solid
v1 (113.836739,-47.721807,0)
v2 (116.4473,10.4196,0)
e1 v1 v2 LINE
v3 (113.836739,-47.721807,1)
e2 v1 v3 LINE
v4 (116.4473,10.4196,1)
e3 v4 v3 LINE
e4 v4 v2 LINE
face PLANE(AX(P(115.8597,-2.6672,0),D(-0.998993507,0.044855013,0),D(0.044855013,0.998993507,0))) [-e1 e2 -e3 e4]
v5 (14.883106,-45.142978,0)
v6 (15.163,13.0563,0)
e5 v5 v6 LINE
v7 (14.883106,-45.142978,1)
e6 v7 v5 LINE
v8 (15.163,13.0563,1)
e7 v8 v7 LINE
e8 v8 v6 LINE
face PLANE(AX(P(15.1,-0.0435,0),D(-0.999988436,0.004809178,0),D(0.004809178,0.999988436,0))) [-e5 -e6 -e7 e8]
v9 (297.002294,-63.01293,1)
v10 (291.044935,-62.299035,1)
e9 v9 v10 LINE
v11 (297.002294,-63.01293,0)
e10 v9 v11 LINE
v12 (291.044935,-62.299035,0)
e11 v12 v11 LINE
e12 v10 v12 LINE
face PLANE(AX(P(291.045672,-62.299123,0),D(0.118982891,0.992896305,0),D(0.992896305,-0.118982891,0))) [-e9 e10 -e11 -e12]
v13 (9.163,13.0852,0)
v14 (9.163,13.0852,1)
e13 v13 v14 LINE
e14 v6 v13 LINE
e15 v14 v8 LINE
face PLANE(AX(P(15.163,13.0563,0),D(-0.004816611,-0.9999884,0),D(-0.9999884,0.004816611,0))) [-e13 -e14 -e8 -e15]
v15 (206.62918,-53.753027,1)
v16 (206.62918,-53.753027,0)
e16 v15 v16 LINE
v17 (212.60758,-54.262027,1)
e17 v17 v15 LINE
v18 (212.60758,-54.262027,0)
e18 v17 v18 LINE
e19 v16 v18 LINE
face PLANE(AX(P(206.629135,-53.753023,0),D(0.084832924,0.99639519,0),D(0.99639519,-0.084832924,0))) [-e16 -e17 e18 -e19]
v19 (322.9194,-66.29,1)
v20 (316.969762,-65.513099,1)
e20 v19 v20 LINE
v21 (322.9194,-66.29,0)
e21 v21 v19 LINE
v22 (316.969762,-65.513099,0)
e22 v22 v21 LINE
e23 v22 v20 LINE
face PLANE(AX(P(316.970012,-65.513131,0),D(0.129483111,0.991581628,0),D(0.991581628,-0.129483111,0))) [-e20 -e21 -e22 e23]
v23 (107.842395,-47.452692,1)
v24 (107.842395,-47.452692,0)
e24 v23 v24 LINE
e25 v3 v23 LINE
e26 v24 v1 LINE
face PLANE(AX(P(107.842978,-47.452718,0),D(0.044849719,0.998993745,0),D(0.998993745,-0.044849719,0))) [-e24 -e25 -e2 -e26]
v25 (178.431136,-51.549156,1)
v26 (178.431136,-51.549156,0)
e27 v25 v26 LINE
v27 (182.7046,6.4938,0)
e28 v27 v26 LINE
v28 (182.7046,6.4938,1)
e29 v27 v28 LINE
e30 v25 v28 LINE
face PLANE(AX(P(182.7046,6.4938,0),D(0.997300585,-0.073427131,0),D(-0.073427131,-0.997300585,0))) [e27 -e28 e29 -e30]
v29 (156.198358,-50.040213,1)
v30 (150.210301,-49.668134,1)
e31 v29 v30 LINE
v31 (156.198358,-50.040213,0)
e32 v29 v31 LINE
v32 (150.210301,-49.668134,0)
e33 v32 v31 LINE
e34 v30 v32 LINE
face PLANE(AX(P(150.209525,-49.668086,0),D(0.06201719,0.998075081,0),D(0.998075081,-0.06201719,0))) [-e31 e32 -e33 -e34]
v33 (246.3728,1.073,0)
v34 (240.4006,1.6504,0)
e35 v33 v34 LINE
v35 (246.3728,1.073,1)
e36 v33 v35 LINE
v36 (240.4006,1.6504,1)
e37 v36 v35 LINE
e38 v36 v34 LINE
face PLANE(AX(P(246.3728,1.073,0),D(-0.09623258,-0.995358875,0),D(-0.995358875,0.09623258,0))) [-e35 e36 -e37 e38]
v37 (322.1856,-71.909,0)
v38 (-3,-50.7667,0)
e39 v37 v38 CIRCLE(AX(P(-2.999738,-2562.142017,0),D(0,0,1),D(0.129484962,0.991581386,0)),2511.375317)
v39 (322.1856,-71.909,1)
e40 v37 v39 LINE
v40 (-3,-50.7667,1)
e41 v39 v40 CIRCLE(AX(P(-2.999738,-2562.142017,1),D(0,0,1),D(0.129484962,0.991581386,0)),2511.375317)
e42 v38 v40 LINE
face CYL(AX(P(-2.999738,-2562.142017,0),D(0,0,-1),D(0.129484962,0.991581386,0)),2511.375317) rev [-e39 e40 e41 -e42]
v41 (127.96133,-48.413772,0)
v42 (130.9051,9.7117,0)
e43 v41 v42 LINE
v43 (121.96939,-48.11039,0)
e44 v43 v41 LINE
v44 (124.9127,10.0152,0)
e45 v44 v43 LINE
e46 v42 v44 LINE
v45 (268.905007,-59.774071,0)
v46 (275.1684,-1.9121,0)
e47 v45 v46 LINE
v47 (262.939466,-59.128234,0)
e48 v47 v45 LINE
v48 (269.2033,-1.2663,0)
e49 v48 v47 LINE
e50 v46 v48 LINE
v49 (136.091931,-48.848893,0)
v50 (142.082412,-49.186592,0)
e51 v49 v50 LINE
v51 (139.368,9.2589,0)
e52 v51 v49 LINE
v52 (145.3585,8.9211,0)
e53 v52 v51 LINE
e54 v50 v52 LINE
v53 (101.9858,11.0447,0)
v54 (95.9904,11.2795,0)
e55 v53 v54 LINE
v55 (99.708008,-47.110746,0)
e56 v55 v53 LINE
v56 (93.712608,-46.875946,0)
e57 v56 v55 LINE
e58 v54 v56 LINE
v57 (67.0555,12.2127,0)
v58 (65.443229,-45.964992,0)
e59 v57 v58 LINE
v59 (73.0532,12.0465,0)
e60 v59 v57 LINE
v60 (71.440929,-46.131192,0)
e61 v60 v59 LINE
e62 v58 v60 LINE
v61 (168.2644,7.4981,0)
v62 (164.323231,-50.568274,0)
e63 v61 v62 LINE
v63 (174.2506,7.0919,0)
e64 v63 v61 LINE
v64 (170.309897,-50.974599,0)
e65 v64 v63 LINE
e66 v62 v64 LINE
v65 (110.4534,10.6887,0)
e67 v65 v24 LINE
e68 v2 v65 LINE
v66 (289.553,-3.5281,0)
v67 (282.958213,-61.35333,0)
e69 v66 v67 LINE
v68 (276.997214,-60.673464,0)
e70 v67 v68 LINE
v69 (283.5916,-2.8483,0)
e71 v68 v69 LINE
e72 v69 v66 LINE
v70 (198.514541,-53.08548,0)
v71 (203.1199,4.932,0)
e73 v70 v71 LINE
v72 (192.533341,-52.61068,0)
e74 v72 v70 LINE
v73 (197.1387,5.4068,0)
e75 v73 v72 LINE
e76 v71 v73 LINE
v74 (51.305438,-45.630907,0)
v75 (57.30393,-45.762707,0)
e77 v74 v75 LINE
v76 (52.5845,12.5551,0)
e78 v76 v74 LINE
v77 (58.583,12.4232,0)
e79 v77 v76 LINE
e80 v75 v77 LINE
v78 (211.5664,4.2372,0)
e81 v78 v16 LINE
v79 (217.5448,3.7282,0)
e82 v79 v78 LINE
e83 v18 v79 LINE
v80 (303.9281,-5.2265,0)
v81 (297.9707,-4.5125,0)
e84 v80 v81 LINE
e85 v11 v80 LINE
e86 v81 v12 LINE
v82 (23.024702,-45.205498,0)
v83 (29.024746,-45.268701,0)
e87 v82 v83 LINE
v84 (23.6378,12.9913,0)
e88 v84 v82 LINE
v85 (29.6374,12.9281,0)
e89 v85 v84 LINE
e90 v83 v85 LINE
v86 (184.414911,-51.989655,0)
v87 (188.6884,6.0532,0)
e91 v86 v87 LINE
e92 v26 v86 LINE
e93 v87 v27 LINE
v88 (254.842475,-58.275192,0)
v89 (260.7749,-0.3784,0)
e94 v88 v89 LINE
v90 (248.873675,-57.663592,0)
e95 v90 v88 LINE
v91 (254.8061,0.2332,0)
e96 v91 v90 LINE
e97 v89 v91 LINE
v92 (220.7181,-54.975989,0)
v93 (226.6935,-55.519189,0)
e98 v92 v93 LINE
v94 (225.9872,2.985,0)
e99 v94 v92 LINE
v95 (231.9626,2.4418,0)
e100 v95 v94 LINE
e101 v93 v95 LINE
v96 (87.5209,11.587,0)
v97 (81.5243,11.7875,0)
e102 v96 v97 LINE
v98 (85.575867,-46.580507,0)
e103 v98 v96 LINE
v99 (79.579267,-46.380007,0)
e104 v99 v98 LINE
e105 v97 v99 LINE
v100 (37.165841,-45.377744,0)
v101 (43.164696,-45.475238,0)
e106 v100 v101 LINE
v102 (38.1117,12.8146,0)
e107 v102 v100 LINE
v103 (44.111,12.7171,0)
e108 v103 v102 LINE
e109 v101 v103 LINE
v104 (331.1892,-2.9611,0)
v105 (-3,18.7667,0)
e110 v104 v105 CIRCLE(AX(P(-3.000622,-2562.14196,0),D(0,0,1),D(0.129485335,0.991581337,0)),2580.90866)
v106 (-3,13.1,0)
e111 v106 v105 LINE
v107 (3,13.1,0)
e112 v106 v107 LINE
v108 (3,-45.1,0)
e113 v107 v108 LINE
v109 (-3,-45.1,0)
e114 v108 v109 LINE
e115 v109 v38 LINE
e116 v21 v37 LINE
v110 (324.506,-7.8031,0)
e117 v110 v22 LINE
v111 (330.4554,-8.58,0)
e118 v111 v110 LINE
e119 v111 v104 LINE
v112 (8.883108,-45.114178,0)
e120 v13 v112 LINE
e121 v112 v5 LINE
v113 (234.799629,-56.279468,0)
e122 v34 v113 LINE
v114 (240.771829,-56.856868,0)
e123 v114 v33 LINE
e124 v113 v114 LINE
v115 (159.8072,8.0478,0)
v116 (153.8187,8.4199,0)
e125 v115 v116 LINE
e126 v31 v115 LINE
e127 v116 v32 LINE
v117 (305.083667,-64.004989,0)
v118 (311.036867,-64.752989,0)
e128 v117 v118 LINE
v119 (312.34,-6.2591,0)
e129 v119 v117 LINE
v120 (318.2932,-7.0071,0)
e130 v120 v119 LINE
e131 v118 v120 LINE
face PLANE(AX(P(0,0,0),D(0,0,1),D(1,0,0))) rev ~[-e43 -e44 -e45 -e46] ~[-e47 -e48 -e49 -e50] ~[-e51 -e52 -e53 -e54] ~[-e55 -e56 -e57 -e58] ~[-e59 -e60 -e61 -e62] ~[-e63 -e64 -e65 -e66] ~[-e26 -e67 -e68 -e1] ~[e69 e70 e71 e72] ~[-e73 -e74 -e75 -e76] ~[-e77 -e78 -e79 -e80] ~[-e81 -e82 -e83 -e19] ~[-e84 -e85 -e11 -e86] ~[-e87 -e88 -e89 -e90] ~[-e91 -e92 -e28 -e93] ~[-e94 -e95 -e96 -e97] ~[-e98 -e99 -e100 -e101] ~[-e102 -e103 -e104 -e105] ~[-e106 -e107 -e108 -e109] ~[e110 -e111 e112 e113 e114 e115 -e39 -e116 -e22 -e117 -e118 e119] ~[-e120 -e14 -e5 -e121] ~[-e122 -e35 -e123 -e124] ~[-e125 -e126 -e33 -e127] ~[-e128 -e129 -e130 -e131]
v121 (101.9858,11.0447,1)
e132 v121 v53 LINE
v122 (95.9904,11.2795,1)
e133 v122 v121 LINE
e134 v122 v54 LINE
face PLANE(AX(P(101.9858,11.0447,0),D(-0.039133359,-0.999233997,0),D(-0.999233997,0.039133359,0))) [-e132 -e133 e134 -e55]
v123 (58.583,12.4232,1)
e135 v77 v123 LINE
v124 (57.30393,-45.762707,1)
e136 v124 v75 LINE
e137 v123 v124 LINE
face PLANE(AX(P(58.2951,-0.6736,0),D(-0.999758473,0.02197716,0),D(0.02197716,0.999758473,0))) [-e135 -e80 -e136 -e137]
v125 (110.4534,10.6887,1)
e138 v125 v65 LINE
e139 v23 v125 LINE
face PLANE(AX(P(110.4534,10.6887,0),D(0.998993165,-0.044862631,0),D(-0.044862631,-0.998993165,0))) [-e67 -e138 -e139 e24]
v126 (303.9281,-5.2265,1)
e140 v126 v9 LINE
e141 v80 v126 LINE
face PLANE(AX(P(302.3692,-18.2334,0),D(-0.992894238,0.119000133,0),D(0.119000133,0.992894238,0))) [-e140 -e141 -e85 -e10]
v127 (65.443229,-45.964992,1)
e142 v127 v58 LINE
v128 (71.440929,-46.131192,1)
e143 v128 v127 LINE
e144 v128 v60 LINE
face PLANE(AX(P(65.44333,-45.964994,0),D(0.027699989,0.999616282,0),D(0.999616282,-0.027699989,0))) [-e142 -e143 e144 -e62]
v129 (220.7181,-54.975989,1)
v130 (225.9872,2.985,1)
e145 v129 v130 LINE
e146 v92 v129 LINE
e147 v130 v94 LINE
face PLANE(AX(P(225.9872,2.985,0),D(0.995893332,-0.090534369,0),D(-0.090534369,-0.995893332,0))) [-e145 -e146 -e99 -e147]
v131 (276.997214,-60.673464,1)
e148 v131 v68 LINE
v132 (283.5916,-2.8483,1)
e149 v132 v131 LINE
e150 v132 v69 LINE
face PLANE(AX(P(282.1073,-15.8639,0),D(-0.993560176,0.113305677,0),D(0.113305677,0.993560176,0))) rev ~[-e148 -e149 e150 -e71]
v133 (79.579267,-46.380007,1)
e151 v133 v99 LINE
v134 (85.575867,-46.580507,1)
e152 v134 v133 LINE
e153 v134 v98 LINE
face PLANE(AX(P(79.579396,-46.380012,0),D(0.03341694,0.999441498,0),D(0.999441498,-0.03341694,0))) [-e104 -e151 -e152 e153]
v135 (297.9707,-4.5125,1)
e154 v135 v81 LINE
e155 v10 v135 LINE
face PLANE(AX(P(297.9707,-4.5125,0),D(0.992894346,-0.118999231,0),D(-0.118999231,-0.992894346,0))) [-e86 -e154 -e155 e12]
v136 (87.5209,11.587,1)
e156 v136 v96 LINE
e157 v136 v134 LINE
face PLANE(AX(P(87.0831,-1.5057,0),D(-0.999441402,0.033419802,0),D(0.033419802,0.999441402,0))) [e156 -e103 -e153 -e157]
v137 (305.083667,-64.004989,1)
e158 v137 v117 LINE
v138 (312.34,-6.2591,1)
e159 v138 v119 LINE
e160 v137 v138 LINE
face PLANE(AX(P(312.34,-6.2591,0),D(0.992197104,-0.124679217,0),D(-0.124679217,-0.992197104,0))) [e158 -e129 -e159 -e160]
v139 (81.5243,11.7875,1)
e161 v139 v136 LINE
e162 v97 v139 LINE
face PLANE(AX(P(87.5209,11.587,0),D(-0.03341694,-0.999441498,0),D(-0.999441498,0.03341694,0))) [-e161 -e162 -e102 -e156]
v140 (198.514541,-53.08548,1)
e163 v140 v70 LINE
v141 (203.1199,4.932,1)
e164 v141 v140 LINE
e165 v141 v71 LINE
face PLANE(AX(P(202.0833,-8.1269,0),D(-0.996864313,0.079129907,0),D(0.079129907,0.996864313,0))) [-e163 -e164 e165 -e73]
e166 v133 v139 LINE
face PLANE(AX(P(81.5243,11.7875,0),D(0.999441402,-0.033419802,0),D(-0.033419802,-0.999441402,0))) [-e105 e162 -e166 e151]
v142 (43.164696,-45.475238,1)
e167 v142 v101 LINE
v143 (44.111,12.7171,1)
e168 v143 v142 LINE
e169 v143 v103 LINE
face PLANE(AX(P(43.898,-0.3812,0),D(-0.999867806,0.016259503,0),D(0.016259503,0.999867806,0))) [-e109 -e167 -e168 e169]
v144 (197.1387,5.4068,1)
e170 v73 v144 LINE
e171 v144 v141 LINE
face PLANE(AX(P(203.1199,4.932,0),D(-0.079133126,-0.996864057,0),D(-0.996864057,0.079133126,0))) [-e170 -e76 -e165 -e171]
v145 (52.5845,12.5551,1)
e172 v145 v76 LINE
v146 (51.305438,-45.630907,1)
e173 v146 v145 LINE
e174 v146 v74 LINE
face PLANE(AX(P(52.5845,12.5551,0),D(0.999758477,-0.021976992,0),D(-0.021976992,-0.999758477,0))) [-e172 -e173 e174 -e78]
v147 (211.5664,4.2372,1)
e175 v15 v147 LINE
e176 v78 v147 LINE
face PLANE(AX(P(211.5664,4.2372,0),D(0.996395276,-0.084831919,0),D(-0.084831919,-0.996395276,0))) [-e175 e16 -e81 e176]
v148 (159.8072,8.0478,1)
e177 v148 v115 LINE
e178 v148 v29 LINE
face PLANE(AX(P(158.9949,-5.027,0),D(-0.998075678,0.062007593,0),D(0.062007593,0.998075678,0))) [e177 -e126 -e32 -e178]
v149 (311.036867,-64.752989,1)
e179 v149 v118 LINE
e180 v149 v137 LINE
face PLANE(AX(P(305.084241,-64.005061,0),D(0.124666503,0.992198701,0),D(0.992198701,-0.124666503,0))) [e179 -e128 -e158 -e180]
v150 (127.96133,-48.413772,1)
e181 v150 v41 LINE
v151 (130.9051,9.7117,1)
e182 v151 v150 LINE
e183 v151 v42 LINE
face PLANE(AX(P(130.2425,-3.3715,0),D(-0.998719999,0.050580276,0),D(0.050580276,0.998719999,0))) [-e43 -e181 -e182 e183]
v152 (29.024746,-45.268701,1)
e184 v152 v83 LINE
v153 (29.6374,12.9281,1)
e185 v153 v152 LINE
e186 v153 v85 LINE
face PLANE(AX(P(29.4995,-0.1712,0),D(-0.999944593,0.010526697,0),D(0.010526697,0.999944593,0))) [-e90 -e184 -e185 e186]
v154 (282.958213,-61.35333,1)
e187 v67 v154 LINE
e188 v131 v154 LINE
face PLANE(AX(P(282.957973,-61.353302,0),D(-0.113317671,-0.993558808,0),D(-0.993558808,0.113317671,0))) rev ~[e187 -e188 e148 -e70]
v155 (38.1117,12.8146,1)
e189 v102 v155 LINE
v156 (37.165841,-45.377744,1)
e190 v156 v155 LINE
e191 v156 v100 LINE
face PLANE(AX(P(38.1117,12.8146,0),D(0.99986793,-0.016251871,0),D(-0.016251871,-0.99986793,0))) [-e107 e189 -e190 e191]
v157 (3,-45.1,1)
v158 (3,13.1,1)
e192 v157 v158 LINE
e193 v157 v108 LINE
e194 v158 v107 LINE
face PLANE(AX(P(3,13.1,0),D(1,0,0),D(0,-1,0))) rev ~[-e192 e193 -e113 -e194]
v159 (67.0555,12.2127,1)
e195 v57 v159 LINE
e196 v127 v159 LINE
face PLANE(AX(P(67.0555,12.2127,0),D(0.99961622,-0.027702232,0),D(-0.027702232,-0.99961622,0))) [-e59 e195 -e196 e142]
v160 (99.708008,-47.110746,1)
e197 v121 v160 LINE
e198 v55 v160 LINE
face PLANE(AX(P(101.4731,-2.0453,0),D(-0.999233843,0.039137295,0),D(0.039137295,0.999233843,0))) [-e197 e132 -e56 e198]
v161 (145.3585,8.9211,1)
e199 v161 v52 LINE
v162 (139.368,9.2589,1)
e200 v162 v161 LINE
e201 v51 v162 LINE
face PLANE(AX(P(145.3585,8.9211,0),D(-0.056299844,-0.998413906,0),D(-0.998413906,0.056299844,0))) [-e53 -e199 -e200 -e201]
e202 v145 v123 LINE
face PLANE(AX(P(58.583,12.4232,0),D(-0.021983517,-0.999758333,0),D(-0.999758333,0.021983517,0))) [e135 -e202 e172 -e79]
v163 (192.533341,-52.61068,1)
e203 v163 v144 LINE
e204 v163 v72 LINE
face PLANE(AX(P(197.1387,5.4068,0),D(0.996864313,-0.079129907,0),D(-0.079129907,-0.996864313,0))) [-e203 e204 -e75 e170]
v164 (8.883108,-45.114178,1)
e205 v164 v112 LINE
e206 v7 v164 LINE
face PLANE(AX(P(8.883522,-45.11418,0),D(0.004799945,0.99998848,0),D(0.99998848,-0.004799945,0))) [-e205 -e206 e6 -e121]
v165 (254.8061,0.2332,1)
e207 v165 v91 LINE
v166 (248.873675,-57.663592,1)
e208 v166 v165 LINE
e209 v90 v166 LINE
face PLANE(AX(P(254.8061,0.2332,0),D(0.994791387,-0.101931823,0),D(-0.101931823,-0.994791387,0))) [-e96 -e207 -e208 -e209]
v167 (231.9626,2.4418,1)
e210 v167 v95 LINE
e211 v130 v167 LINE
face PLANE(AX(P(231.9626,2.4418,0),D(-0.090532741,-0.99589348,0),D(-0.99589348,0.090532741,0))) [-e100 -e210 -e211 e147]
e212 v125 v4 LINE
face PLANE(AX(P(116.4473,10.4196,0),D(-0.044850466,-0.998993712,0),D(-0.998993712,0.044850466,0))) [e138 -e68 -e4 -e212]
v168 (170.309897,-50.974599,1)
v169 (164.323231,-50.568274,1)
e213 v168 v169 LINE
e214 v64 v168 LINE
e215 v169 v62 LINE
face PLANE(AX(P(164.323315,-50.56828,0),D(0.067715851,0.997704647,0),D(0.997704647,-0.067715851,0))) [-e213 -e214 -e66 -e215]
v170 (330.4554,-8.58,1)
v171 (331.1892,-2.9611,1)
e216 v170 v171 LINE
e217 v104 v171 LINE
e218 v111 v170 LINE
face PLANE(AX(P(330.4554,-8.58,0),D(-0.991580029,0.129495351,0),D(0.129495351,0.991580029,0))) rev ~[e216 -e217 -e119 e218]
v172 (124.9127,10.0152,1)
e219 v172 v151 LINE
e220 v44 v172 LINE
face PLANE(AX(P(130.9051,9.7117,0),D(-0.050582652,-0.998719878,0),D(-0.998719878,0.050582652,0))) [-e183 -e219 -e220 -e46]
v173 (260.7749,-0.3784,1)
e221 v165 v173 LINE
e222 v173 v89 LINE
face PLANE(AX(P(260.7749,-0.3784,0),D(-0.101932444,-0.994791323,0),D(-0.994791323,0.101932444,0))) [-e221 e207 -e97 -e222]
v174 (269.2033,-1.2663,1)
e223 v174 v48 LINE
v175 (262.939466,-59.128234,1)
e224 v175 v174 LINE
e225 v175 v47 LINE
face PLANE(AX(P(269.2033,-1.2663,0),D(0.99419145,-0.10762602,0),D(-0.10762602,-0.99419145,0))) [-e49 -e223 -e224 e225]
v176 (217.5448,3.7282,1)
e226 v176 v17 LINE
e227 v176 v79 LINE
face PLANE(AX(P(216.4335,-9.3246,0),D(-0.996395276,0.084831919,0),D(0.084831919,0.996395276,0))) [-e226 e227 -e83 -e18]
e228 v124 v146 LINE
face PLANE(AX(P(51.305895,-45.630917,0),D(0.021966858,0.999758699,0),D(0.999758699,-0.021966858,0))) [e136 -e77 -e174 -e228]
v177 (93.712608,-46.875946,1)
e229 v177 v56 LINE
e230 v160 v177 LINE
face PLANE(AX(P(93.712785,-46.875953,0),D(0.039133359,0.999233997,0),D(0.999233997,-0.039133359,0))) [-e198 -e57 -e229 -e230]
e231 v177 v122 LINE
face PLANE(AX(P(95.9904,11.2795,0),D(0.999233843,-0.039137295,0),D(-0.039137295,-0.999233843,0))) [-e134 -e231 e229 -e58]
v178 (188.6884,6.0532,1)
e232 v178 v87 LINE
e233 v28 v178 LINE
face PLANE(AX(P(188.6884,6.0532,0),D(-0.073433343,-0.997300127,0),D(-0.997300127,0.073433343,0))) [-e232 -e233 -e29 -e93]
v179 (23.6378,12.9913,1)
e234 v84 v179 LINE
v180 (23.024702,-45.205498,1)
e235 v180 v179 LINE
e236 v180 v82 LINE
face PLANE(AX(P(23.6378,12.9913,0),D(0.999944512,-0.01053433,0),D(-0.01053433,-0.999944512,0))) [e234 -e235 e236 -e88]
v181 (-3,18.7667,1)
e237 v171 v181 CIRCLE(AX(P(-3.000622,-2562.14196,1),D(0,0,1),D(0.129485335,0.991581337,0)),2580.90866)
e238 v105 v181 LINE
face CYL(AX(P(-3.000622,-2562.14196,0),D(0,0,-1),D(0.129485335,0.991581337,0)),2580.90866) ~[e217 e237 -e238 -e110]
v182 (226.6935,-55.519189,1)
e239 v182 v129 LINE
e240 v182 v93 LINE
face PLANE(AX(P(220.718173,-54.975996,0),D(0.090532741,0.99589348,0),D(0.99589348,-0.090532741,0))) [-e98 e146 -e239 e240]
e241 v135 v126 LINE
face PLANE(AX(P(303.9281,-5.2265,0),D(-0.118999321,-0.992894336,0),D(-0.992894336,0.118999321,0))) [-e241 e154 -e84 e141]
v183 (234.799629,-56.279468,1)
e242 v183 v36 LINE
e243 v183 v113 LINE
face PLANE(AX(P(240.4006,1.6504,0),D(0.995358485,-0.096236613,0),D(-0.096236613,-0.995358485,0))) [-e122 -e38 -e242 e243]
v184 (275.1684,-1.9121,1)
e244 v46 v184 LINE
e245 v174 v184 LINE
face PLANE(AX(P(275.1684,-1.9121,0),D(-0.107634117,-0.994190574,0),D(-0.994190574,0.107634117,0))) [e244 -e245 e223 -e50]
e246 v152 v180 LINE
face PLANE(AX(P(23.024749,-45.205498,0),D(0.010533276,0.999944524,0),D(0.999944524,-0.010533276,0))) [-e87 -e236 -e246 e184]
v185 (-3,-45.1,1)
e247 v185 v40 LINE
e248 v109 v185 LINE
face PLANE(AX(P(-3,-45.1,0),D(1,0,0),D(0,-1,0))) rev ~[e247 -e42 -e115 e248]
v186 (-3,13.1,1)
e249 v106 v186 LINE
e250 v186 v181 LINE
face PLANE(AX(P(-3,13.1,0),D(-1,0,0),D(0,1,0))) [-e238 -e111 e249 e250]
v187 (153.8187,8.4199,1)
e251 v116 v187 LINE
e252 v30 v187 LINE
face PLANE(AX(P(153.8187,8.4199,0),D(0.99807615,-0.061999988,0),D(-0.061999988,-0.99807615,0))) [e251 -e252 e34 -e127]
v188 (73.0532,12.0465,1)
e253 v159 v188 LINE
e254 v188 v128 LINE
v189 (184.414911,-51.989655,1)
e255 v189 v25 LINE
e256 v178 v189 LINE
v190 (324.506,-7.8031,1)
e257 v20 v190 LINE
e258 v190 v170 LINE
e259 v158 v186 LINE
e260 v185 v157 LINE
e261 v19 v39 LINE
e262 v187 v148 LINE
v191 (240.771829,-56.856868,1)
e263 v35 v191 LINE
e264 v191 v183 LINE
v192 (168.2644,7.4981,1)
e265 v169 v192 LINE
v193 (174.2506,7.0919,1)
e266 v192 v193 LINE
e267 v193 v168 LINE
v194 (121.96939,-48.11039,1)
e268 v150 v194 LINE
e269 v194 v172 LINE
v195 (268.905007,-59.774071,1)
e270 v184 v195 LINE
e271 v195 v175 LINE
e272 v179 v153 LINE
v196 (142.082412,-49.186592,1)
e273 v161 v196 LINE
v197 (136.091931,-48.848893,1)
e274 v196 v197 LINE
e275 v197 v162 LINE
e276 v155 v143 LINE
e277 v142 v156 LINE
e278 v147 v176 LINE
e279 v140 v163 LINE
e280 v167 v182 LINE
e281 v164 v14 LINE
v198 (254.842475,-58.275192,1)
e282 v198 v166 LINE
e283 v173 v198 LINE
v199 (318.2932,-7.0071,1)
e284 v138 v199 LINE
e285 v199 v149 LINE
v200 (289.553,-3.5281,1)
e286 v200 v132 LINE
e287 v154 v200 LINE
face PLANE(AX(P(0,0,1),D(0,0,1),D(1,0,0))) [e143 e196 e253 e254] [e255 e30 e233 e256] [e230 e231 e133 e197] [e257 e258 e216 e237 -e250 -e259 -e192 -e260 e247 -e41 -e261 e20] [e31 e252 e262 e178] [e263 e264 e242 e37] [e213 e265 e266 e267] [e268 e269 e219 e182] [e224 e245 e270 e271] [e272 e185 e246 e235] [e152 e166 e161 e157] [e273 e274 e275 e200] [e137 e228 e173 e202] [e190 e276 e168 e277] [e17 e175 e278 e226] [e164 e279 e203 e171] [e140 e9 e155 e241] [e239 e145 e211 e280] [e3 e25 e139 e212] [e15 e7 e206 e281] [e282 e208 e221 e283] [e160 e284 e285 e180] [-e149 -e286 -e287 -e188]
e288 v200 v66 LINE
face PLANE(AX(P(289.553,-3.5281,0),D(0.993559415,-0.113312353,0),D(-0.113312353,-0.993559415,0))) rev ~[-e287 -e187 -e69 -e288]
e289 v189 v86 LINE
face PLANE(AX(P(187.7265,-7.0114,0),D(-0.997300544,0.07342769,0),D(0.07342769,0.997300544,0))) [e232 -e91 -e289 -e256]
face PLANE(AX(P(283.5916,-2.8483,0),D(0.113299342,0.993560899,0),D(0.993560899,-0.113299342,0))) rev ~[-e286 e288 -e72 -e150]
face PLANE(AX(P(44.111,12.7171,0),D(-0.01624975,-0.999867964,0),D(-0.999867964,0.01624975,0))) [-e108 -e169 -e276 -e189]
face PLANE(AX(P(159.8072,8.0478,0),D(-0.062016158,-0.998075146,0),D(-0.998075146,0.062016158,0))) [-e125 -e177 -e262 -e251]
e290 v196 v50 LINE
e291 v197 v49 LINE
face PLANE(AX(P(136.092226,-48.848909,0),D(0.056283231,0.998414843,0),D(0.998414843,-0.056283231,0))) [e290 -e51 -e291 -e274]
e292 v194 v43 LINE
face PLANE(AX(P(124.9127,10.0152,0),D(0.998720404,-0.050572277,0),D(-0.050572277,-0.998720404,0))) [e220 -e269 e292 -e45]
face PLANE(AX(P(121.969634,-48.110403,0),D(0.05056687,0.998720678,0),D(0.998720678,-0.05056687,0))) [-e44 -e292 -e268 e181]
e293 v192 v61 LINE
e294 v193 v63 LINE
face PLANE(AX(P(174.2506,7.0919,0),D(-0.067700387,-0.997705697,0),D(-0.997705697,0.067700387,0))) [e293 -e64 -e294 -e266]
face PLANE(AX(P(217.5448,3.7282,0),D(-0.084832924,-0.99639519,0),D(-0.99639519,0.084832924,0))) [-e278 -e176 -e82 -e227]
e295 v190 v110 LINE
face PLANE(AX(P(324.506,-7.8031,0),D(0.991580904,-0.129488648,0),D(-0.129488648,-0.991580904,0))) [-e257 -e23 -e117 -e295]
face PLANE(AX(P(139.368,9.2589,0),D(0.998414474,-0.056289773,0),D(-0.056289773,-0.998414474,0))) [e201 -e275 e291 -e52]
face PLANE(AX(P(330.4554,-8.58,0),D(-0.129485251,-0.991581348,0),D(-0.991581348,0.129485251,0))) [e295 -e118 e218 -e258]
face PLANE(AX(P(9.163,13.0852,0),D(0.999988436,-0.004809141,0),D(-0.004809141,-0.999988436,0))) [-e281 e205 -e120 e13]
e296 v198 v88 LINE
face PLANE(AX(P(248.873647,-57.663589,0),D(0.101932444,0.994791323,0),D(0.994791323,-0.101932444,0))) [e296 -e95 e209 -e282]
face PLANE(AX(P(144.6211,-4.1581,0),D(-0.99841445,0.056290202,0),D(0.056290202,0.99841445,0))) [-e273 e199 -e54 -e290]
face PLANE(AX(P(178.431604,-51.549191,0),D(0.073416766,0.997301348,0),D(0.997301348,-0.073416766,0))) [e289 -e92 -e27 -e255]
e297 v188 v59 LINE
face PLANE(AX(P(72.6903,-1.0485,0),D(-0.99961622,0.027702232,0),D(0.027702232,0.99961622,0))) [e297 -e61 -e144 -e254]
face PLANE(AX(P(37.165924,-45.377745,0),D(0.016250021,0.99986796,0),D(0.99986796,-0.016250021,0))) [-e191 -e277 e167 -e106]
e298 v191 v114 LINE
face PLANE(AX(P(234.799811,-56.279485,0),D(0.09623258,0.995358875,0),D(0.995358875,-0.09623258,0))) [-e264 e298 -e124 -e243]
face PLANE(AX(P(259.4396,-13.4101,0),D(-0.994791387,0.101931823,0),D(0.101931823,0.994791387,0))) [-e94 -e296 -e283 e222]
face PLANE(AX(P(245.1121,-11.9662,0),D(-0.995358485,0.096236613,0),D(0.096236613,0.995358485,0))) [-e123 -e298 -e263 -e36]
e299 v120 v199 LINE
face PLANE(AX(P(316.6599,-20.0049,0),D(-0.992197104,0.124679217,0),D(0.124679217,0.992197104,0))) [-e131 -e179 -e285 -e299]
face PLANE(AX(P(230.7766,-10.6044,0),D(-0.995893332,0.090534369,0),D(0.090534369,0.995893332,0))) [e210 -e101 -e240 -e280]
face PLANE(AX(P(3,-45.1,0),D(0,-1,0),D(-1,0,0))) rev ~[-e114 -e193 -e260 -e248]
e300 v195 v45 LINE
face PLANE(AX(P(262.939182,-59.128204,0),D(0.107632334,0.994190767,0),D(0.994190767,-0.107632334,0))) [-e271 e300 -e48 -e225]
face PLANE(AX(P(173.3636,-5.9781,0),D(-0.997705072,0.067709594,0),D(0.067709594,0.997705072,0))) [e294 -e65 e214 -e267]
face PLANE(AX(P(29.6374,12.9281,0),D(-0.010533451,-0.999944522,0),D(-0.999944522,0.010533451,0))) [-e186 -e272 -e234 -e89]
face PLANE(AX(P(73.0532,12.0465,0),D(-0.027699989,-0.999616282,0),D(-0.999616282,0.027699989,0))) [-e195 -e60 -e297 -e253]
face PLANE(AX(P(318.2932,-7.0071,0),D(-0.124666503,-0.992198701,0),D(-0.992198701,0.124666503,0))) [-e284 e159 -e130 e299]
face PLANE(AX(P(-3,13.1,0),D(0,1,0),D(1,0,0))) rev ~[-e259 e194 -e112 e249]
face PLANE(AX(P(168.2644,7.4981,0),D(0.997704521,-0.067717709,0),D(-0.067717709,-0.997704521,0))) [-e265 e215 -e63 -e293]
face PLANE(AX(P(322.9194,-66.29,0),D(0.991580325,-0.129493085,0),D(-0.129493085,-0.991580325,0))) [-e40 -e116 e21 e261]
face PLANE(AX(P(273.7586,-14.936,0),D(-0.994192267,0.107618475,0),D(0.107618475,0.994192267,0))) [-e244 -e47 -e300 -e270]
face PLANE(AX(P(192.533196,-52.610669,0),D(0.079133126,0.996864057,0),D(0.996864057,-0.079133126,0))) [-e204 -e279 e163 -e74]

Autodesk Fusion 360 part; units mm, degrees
sketch "Skizze4" plane through (0, 0, 0) normal (0, 0, 1) x (1, 0, 0)
  line L0 (0, 0) -> (0, -2516) construction
  circle A0 centre (0, -2516) radius 2516 construction
  line L1 (9.163, 13.0852) -> (9.1, -0.0147)
  line L2 (9.1, -0.0147) -> (15.1, -0.0435)
  line L3 (15.1, -0.0435) -> (15.163, 13.0563)
  line L4 (15.163, 13.0563) -> (9.163, 13.0852)
  line L5 (-3, 13.1) -> (3, 13.1)
  line L6 (3, 13.1) -> (3, 0)
  line L7 (3, 0) -> (-3, 0)
  line L8 (-3, 0) -> (-3, 13.1)
  line L9 (12.163, 13.0708) -> (12.1, -0.0291) construction
  line L10 (23.6378, 12.9913) -> (23.4998, -0.108)
  line L11 (29.4995, -0.1712) -> (29.6374, 12.9281)
  line L12 (26.6376, 12.9597) -> (26.4996, -0.1396) construction
  line L13 (29.6374, 12.9281) -> (23.6378, 12.9913)
  line L14 (23.4998, -0.108) -> (29.4995, -0.1712)
  line L15 (38.1117, 12.8146) -> (37.8988, -0.2837)
  line L16 (58.583, 12.4232) -> (52.5845, 12.5551)
  line L17 (52.2966, -0.5418) -> (58.2951, -0.6736)
  line L18 (52.5845, 12.5551) -> (52.2966, -0.5418)
  line L19 (58.2951, -0.6736) -> (58.583, 12.4232)
  line L20 (55.5837, 12.4891) -> (55.2958, -0.6077) construction
  line L21 (41.1113, 12.7658) -> (40.8984, -0.3324) construction
  line L22 (37.8988, -0.2837) -> (43.898, -0.3812)
  line L23 (43.898, -0.3812) -> (44.111, 12.7171)
  line L24 (44.111, 12.7171) -> (38.1117, 12.8146)
  line L25 (115.8597, -2.6672) -> (116.4473, 10.4196)
  line L26 (101.4731, -2.0453) -> (101.9858, 11.0447)
  line L27 (81.5243, 11.7875) -> (81.0865, -1.3052)
  line L28 (101.9858, 11.0447) -> (95.9904, 11.2795)
  line L29 (67.0555, 12.2127) -> (66.6926, -0.8823)
  line L30 (109.8657, -2.3981) -> (115.8597, -2.6672)
  line L31 (87.5209, 11.587) -> (81.5243, 11.7875)
  line L32 (66.6926, -0.8823) -> (72.6903, -1.0485)
  line L33 (70.0543, 12.1296) -> (69.6914, -0.9654) construction
  line L34 (113.4504, 10.5541) -> (112.8627, -2.5327) construction
  line L35 (81.0865, -1.3052) -> (87.0831, -1.5057)
  line L36 (72.6903, -1.0485) -> (73.0532, 12.0465)
  line L37 (84.5226, 11.6872) -> (84.0848, -1.4055) construction
  line L38 (98.9881, 11.1621) -> (98.4754, -1.9279) construction
  line L39 (95.9904, 11.2795) -> (95.4777, -1.8105)
  line L40 (110.4534, 10.6887) -> (109.8657, -2.3981)
  line L41 (95.4777, -1.8105) -> (101.4731, -2.0453)
  line L42 (116.4473, 10.4196) -> (110.4534, 10.6887)
  line L43 (73.0532, 12.0465) -> (67.0555, 12.2127)
  line L44 (87.0831, -1.5057) -> (87.5209, 11.587)
  line L45 (197.1387, 5.4068) -> (196.1021, -7.6521)
  line L46 (139.368, 9.2589) -> (138.6306, -3.8204)
  line L47 (153.8187, 8.4199) -> (153.0065, -4.6549)
  line L48 (214.5556, 3.9827) -> (213.4443, -9.0701) construction
  line L49 (173.3636, -5.9781) -> (174.2506, 7.0919)
  line L50 (171.2575, 7.295) -> (170.3704, -5.7749) construction
  line L51 (138.6306, -3.8204) -> (144.6211, -4.1581)
  line L52 (153.0065, -4.6549) -> (158.9949, -5.027)
  line L53 (200.1293, 5.1694) -> (199.0927, -7.8895) construction
  line L54 (145.3585, 8.9211) -> (139.368, 9.2589)
  line L55 (211.5664, 4.2372) -> (210.4551, -8.8156)
  line L56 (224.8012, -10.0612) -> (230.7766, -10.6044)
  line L57 (231.9626, 2.4418) -> (225.9872, 2.985)
  line L58 (124.9127, 10.0152) -> (124.2502, -3.0681)
  line L59 (182.7046, 6.4938) -> (181.7427, -6.5709)
  line L60 (167.3773, -5.5718) -> (173.3636, -5.9781)
  line L61 (217.5448, 3.7282) -> (211.5664, 4.2372)
  line L62 (210.4551, -8.8156) -> (216.4335, -9.3246)
  line L63 (228.9749, 2.7134) -> (227.7889, -10.3328) construction
  line L64 (185.6965, 6.2735) -> (184.7346, -6.7911) construction
  line L65 (130.9051, 9.7117) -> (124.9127, 10.0152)
  line L66 (130.2425, -3.3715) -> (130.9051, 9.7117)
  line L67 (202.0833, -8.1269) -> (203.1199, 4.932)
  line L68 (159.8072, 8.0478) -> (153.8187, 8.4199)
  line L69 (158.9949, -5.027) -> (159.8072, 8.0478)
  line L70 (230.7766, -10.6044) -> (231.9626, 2.4418)
  line L71 (168.2644, 7.4981) -> (167.3773, -5.5718)
  line L72 (156.813, 8.2338) -> (156.0007, -4.8409) construction
  line L73 (188.6884, 6.0532) -> (182.7046, 6.4938)
  line L74 (142.3633, 9.09) -> (141.6259, -3.9892) construction
  line L75 (187.7265, -7.0114) -> (188.6884, 6.0532)
  line L76 (127.9089, 9.8634) -> (127.2464, -3.2198) construction
  line L77 (203.1199, 4.932) -> (197.1387, 5.4068)
  line L78 (181.7427, -6.5709) -> (187.7265, -7.0114)
  line L79 (174.2506, 7.0919) -> (168.2644, 7.4981)
  line L80 (196.1021, -7.6521) -> (202.0833, -8.1269)
  line L81 (225.9872, 2.985) -> (224.8012, -10.0612)
  line L82 (144.6211, -4.1581) -> (145.3585, 8.9211)
  line L83 (216.4335, -9.3246) -> (217.5448, 3.7282)
  line L84 (124.2502, -3.0681) -> (130.2425, -3.3715)
  line L85 (0, 13.1) -> (0, 0) construction
  line L86 (243.3867, 1.3617) -> (242.126, -11.6775) construction
  line L87 (275.1684, -1.9121) -> (269.2033, -1.2663)
  line L88 (288.0686, -16.5438) -> (282.1073, -15.8639)
  line L89 (286.5723, -3.1882) -> (285.0879, -16.2038) construction
  line L90 (269.2033, -1.2663) -> (267.7934, -14.2902)
  line L91 (246.3728, 1.073) -> (240.4006, 1.6504)
  line L92 (282.1073, -15.8639) -> (283.5916, -2.8483)
  line L93 (245.1121, -11.9662) -> (246.3728, 1.073)
  line L94 (253.4708, -12.7985) -> (259.4396, -13.4101)
  line L95 (289.553, -3.5281) -> (288.0686, -16.5438)
  line L96 (240.4006, 1.6504) -> (239.1399, -11.3888)
  line L97 (273.7586, -14.936) -> (275.1684, -1.9121)
  line L98 (259.4396, -13.4101) -> (260.7749, -0.3784)
  line L99 (239.1399, -11.3888) -> (245.1121, -11.9662)
  line L100 (254.8061, 0.2332) -> (253.4708, -12.7985)
  line L101 (283.5916, -2.8483) -> (289.553, -3.5281)
  line L102 (260.7749, -0.3784) -> (254.8061, 0.2332)
  line L103 (272.1859, -1.5892) -> (270.776, -14.6131) construction
  line L104 (257.7905, -0.0726) -> (256.4552, -13.1043) construction
  line L105 (267.7934, -14.2902) -> (273.7586, -14.936)
  line L106 (315.3166, -6.6331) -> (313.6833, -19.6309) construction
  line L107 (318.2932, -7.0071) -> (312.34, -6.2591)
  line L108 (322.8097, -20.7928) -> (328.7592, -21.5697)
  line L109 (324.506, -7.8031) -> (322.8097, -20.7928)
  line L110 (316.6599, -20.0049) -> (318.2932, -7.0071)
  line L111 (312.34, -6.2591) -> (310.7067, -19.2569)
  line L112 (303.9281, -5.2265) -> (297.9707, -4.5125)
  line L113 (297.9707, -4.5125) -> (296.4118, -17.5195)
  line L114 (296.4118, -17.5195) -> (302.3692, -18.2334)
  line L115 (300.9494, -4.8695) -> (299.3905, -17.8764) construction
  line L116 (327.4807, -8.1916) -> (325.7844, -21.1813) construction
  line L117 (302.3692, -18.2334) -> (303.9281, -5.2265)
  line L118 (330.4554, -8.58) -> (324.506, -7.8031)
  line L119 (328.7592, -21.5697) -> (330.4554, -8.58)
  line L120 (310.7067, -19.2569) -> (316.6599, -20.0049)
  point P0 (12.1, -0.0291)
  point P1 (26.4996, -0.1396)
  point P2 (55.2958, -0.6077)
  point P3 (40.8984, -0.3324)
  point P4 (112.8627, -2.5327)
  point P5 (98.4754, -1.9279)
  point P6 (84.0848, -1.4055)
  point P7 (69.6914, -0.9654)
  point P8 (170.3704, -5.7749)
  point P9 (156.0007, -4.8409)
  point P10 (199.0927, -7.8895)
  point P11 (184.7346, -6.7911)
  point P12 (213.4443, -9.0701)
  point P13 (227.7889, -10.3328)
  point P14 (141.6259, -3.9892)
  point P15 (127.2464, -3.2198)
  point P16 (256.4552, -13.1043)
  point P17 (242.126, -11.6775)
  point P18 (285.0879, -16.2038)
  point P19 (270.776, -14.6131)
  point P20 (313.6833, -19.6309)
  point P21 (325.7844, -21.1813)
  point P22 (299.3905, -17.8764)
  dimension "d197" = 2516
  dimension "d198" = 6
  dimension "d199" = 13.1
  dimension "d200" = 6
  dimension "d201" = 13.1
  dimension "d202" = 6
  dimension "d203" = 13.1
  dimension "d204" = 6
  dimension "d205" = 13.1
  dimension "d206" = 6
  dimension "d207" = 13.1
  dimension "d208" = 6
  dimension "d209" = 13.1
  dimension "d210" = 6
  dimension "d211" = 13.1
  dimension "d212" = 6
  dimension "d213" = 13.1
  dimension "d214" = 6
  dimension "d215" = 13.1
  dimension "d216" = 6
  dimension "d217" = 13.1
  dimension "d218" = 6
  dimension "d219" = 13.1
  dimension "d220" = 6
  dimension "d221" = 13.1
  dimension "d222" = 6
  dimension "d223" = 13.1
  dimension "d224" = 6
  dimension "d225" = 13.1
  dimension "d226" = 6
  dimension "d227" = 13.1
  dimension "d228" = 6
  dimension "d229" = 13.1
  dimension "d230" = 6
  dimension "d231" = 13.1
  dimension "d232" = 12.1
  dimension "d233" = 14.4
  dimension "d234" = 14.4
  dimension "d235" = 14.4
  dimension "d236" = 14.4
  dimension "d237" = 14.4
  dimension "d238" = 14.4
  dimension "d239" = 14.4
  dimension "d240" = 6
  dimension "d241" = 13.1
  dimension "d242" = 6
  dimension "d243" = 13.1
  dimension "d244" = 6
  dimension "d245" = 13.1
  dimension "d246" = 6
  dimension "d247" = 13.1
  dimension "d248" = 6
  dimension "d249" = 13.1
  dimension "d250" = 6
  dimension "d251" = 13.1
  dimension "d252" = 6
  dimension "d253" = 13.1
  dimension "d254" = 14.4
  dimension "d255" = 14.4
  dimension "d256" = 14.4
  dimension "d257" = 14.4
  dimension "d258" = 14.4
  dimension "d259" = 14.4
  dimension "d260" = 14.4
  dimension "d261" = 14.4
  dimension "d262" = 14.4
  dimension "d263" = 14.4
  dimension "d264" = 14.4
  dimension "d265" = 14.4
  dimension "d266" = 14.4
  dimension "d267" = 14.4
  dimension "d268" = 12.2
  dimension "d269" = 7.4
extrude "Extrusion1" add sketch "Skizze4" along normal blind 3 makes body 1 at (27.5456, 4.2163, 0) makes body 2 at (83.2313, 2.9922, 0) makes body 3 at (140.8732, 0.4268, 0) makes body 4 at (198.4414, -3.4574, 0) makes body 5 at (258.3402, -4.5184, 0) makes body 6 at (313.2355, -15.1736, 0) makes body 7 at (298.9172, -13.4218, 0) makes body 8 at (243.5416, -7.4274, 0) makes body 9 at (184.0579, -2.3628, 0) makes body 10 at (126.4685, 1.1919, 0) makes body 11 at (68.8128, 3.4273, 0) makes body 12 at (13.121, 4.3327, 0) makes body 13 at (39.9695, 4.0499, 0) makes body 14 at (97.647, 2.4746, 0) makes body 15 at (155.2734, -0.4207, 0) makes body 16 at (212.8183, -4.6343, 0) makes body 17 at (270.2518, -10.1642, 0) makes body 18 at (327.9069, -12.6509, 0) makes body 19 at (287.0711, -7.6401, 0) makes body 20 at (229.1801, -6.0746, 0) makes body 21 at (169.6684, -1.3506, 0) makes body 22 at (112.2555, 6.2367, 0) makes body 23 at (54.392, 3.7799, 0) makes body 24 at (-1, 4.3667, 0)
move_face "Flächen versetzen1" offset 45.1 24 faces at (300.3834, -17.9954, 2) (241.1307, -11.5813, 1) (183.7373, -6.7177, 1) (128.2451, -3.2704, 2) (83.0853, -1.372, 1) (25.4997, -0.129, 1) (255.4604, -13.0024, 1) (314.6755, -19.7556, 2) (198.0958, -7.8104, 1) (140.6274, -3.9329, 1) (68.6918, -0.9377, 1) (13.1, -0.0339, 2) (39.8985, -0.3162, 1) (97.4761, -1.8887, 2) (155.0026, -4.7789, 1) (212.4479, -8.9853, 1) (269.7818, -14.5055, 1) (324.7929, -21.0518, 1) (286.0815, -16.3171, 1) (226.793, -10.2422, 1) (169.3727, -5.7072, 1) (111.8637, -2.4878, 1) (54.2961, -0.5857, 1) (1, 0, 1) on bodies 1 2 3 4 5 6 7 8 9 10 11 12 13 14 15 16 17 18 19 20 21 22 23 24
sketch "Skizze5" plane through (0, 0, 0) normal (0, 0, 1) x (1, 0, 0)
  line L0 (-3, 13.1) -> (-3, -45.1)
  line L1 (322.9194, -66.29) -> (330.4554, -8.58)
  line L2 (-3, 13.1) -> (-3, 18.7667)
  line L3 (-3, -45.1) -> (-3, -50.7667)
  line L4 (330.4554, -8.58) -> (331.1892, -2.9611)
  line L5 (322.9194, -66.29) -> (322.1856, -71.909)
  arc A0 (331.1892, -2.9611) -> (-3, 18.7667) centre (-3, -2562.142) ccw
  arc A1 (322.1856, -71.909) -> (-3, -50.7667) centre (-3, -2562.142) ccw
  line L6 (-3, 18.7667) -> (-30, 18.7667)
  line L7 (-3, -50.7667) -> (-34, -50.7667)
  dimension "d273" = 5.6667
  dimension "d274" = 5.6667
  dimension "d275" = 5.6667
  dimension "d276" = 5.6667
extrude "Extrusion2" add sketch "Skizze5" along normal blind 1 separate body makes body 25
combine "Kombinieren1" operation cut target body 25 tool bodies 18 6 7 19 17 5 8 20 16 4 9 21 15 3 10 22 14 2 11 23 13 1 12 24 keep tools
sketch "Skizze8" plane through (0, 0, 1) normal (0, 0, 1) x (-1, 0, 0)
  line L0 (-3, 45.1) -> (3, 45.1)
  line L1 (3, 45.1) -> (3, 50.7667)
  arc A0 (-322.1856, 71.909) -> (3, 50.7667) centre (3, 2562.142) ccw
  line L2 (-322.1856, 71.909) -> (-322.9194, 66.29)
  line L3 (-322.9194, 66.29) -> (-316.9699, 65.5131)
  line L4 (-316.9699, 65.5131) -> (-324.506, 7.8031)
  line L5 (-324.506, 7.8031) -> (-330.4554, 8.58)
  line L6 (-330.4554, 8.58) -> (-331.1892, 2.9611)
  arc A1 (-331.1892, 2.9611) -> (3, -18.7667) centre (3, 2562.142) ccw
  line L7 (3, -18.7667) -> (3, -13.1)
  line L8 (3, -13.1) -> (-3, -13.1)
  line L9 (-3, -13.1) -> (-3, 45.1)
  line L10 (-15.163, -13.0563) -> (-14.8831, 45.143)
  line L11 (-14.8831, 45.143) -> (-8.8831, 45.1141)
  line L12 (-8.8831, 45.1141) -> (-9.163, -13.0852)
  line L13 (-9.163, -13.0852) -> (-15.163, -13.0563)
  line L14 (-23.0248, 45.2055) -> (-23.6378, -12.9913)
  line L15 (-23.6378, -12.9913) -> (-29.6374, -12.9281)
  line L16 (-29.6374, -12.9281) -> (-29.0245, 45.2687)
  line L17 (-29.0245, 45.2687) -> (-23.0248, 45.2055)
  line L18 (-44.111, -12.7171) -> (-43.1649, 45.4752)
  line L19 (-43.1649, 45.4752) -> (-37.1657, 45.3777)
  line L20 (-37.1657, 45.3777) -> (-38.1117, -12.8146)
  line L21 (-38.1117, -12.8146) -> (-44.111, -12.7171)
  line L22 (-57.3039, 45.7628) -> (-51.3054, 45.6309)
  line L23 (-51.3054, 45.6309) -> (-52.5845, -12.5551)
  line L24 (-52.5845, -12.5551) -> (-58.583, -12.4232)
  line L25 (-58.583, -12.4232) -> (-57.3039, 45.7628)
  line L26 (-73.0532, -12.0465) -> (-71.441, 46.1312)
  line L27 (-71.441, 46.1312) -> (-65.4433, 45.965)
  line L28 (-65.4433, 45.965) -> (-67.0555, -12.2127)
  line L29 (-67.0555, -12.2127) -> (-73.0532, -12.0465)
  line L30 (-85.5758, 46.5805) -> (-79.5792, 46.38)
  line L31 (-79.5792, 46.38) -> (-81.5243, -11.7875)
  line L32 (-81.5243, -11.7875) -> (-87.5209, -11.587)
  line L33 (-87.5209, -11.587) -> (-85.5758, 46.5805)
  line L34 (-93.7124, 46.8759) -> (-95.9904, -11.2795)
  line L35 (-95.9904, -11.2795) -> (-101.9858, -11.0447)
  line L36 (-101.9858, -11.0447) -> (-99.7078, 47.1107)
  line L37 (-99.7078, 47.1107) -> (-93.7124, 46.8759)
  line L38 (-116.4473, -10.4196) -> (-113.8366, 47.7218)
  line L39 (-113.8366, 47.7218) -> (-107.8426, 47.4527)
  line L40 (-107.8426, 47.4527) -> (-110.4534, -10.6887)
  line L41 (-110.4534, -10.6887) -> (-116.4473, -10.4196)
  line L42 (-121.9693, 48.1104) -> (-124.9127, -10.0152)
  line L43 (-124.9127, -10.0152) -> (-130.9051, -9.7117)
  line L44 (-130.9051, -9.7117) -> (-127.9616, 48.4138)
  line L45 (-127.9616, 48.4138) -> (-121.9693, 48.1104)
  line L46 (-142.0824, 49.1866) -> (-136.0919, 48.8488)
  line L47 (-136.0919, 48.8488) -> (-139.368, -9.2589)
  line L48 (-139.368, -9.2589) -> (-145.3585, -8.9211)
  line L49 (-145.3585, -8.9211) -> (-142.0824, 49.1866)
  line L50 (-156.1986, 50.0402) -> (-150.2101, 49.6682)
  line L51 (-150.2101, 49.6682) -> (-153.8187, -8.4199)
  line L52 (-153.8187, -8.4199) -> (-159.8072, -8.0478)
  line L53 (-159.8072, -8.0478) -> (-156.1986, 50.0402)
  line L54 (-174.2506, -7.0919) -> (-170.3096, 50.9746)
  line L55 (-170.3096, 50.9746) -> (-164.3234, 50.5683)
  line L56 (-164.3234, 50.5683) -> (-168.2644, -7.4981)
  line L57 (-168.2644, -7.4981) -> (-174.2506, -7.0919)
  line L58 (-178.4313, 51.5491) -> (-182.7046, -6.4938)
  line L59 (-182.7046, -6.4938) -> (-188.6884, -6.0532)
  line L60 (-188.6884, -6.0532) -> (-184.4151, 51.9897)
  line L61 (-184.4151, 51.9897) -> (-178.4313, 51.5491)
  line L62 (-192.5333, 52.6107) -> (-197.1387, -5.4068)
  line L63 (-197.1387, -5.4068) -> (-203.1199, -4.932)
  line L64 (-203.1199, -4.932) -> (-198.5145, 53.0855)
  line L65 (-198.5145, 53.0855) -> (-192.5333, 52.6107)
  line L66 (-212.6074, 54.262) -> (-206.629, 53.753)
  line L67 (-206.629, 53.753) -> (-211.5664, -4.2372)
  line L68 (-211.5664, -4.2372) -> (-217.5448, -3.7282)
  line L69 (-217.5448, -3.7282) -> (-212.6074, 54.262)
  line L70 (-225.9872, -2.985) -> (-231.9626, -2.4418)
  line L71 (-231.9626, -2.4418) -> (-226.6934, 55.5192)
  line L72 (-226.6934, 55.5192) -> (-220.718, 54.9759)
  line L73 (-220.718, 54.9759) -> (-225.9872, -2.985)
  line L74 (-234.7997, 56.2795) -> (-240.4006, -1.6504)
  line L75 (-240.4006, -1.6504) -> (-246.3728, -1.073)
  line L76 (-246.3728, -1.073) -> (-240.7719, 56.8569)
  line L77 (-240.7719, 56.8569) -> (-234.7997, 56.2795)
  line L78 (-260.7749, 0.3784) -> (-254.8425, 58.2752)
  line L79 (-254.8425, 58.2752) -> (-248.8738, 57.6636)
  line L80 (-248.8738, 57.6636) -> (-254.8061, -0.2332)
  line L81 (-254.8061, -0.2332) -> (-260.7749, 0.3784)
  line L82 (-262.9397, 59.1283) -> (-269.2033, 1.2663)
  line L83 (-269.2033, 1.2663) -> (-275.1684, 1.9121)
  line L84 (-275.1684, 1.9121) -> (-268.9048, 59.774)
  line L85 (-268.9048, 59.774) -> (-262.9397, 59.1283)
  line L86 (-283.5916, 2.8483) -> (-289.553, 3.5281)
  line L87 (-289.553, 3.5281) -> (-282.9583, 61.3533)
  line L88 (-282.9583, 61.3533) -> (-276.9969, 60.6734)
  line L89 (-276.9969, 60.6734) -> (-283.5916, 2.8483)
  line L90 (-297.0025, 63.013) -> (-291.0451, 62.299)
  line L91 (-291.0451, 62.299) -> (-297.9707, 4.5125)
  line L92 (-297.9707, 4.5125) -> (-303.9281, 5.2265)
  line L93 (-303.9281, 5.2265) -> (-297.0025, 63.013)
  line L94 (-305.0838, 64.005) -> (-312.34, 6.2591)
  line L95 (-312.34, 6.2591) -> (-318.2932, 7.0071)
  line L96 (-318.2932, 7.0071) -> (-311.037, 64.753)
  line L97 (-311.037, 64.753) -> (-305.0838, 64.005)
  line L98 (-3, -13.1) -> (-3, 45.1)
  line L99 (-8.8831, 45.1141) -> (-9.163, -13.0852)
  line L100 (-15.163, -13.0563) -> (-14.8831, 45.143)
  line L101 (-23.0248, 45.2055) -> (-23.6378, -12.9913)
  line L102 (-29.6374, -12.9281) -> (-29.0245, 45.2687)
  line L103 (-316.9699, 65.5131) -> (-324.506, 7.8031)
  line L104 (-318.2932, 7.0071) -> (-311.037, 64.753)
  line L105 (-305.0838, 64.005) -> (-312.34, 6.2591)
  line L106 (-303.9281, 5.2265) -> (-297.0025, 63.013)
  line L107 (-291.0451, 62.299) -> (-297.9707, 4.5125)
  line L108 (-3, 16) -> (7, 16)
  arc A2 (-320.7379, 36.6581) -> (-3, 16) centre (-3, 2469.858) ccw
  circle A3 centre (-3, 16) radius 1
  circle A4 centre (-9.0231, 16.0145) radius 1
  circle A5 centre (-15.023, 16.0433) radius 1
  circle A6 centre (-23.3313, 16.1071) radius 1
  point P0 (-3, 16)
  point P1 (-9.0231, 16.0145)
  point P2 (-15.023, 16.0433)
  point P3 (-23.3313, 16.1071)
  dimension "d502" = 10
  dimension "d503" = 2
  dimension "d504" = 2
  dimension "d506" = 2
  dimension "d507" = 2
hidden bodies 1 2 3 4 5 6 7 8 9 10 11 12 13 14 15 16 17 18 19 20 21 22 23 24
equation "Schwellen_Länge = 58 mm + 0.2 mm"
equation "Schwellen_Breite = 5.8 mm + 0.2 mm"
equation "Bogen_Radius = 2500 mm"
equation "Spurweite = 32 mm"
equation "d197 = Bogen_Radius + ( Spurweite / 2 )"
equation "d198 = Schwellen_Breite"
equation "d199 = ( Schwellen_Länge / 2 ) - ( Spurweite / 2 )"
equation "d200 = Schwellen_Breite"
equation "d201 = ( Schwellen_Länge / 2 ) - ( Spurweite / 2 )"
equation "d202 = Schwellen_Breite"
equation "d203 = ( Schwellen_Länge / 2 ) - ( Spurweite / 2 )"
equation "d204 = Schwellen_Breite"
equation "d205 = ( Schwellen_Länge / 2 ) - ( Spurweite / 2 )"
equation "d206 = Schwellen_Breite"
equation "d207 = ( Schwellen_Länge / 2 ) - ( Spurweite / 2 )"
equation "d208 = Schwellen_Breite"
equation "d209 = ( Schwellen_Länge / 2 ) - ( Spurweite / 2 )"
equation "d210 = Schwellen_Breite"
equation "d211 = ( Schwellen_Länge / 2 ) - ( Spurweite / 2 )"
equation "d212 = Schwellen_Breite"
equation "d213 = ( Schwellen_Länge / 2 ) - ( Spurweite / 2 )"
equation "d214 = Schwellen_Breite"
equation "d215 = ( Schwellen_Länge / 2 ) - ( Spurweite / 2 )"
equation "d216 = Schwellen_Breite"
equation "d217 = ( Schwellen_Länge / 2 ) - ( Spurweite / 2 )"
equation "d218 = Schwellen_Breite"
equation "d219 = ( Schwellen_Länge / 2 ) - ( Spurweite / 2 )"
equation "d220 = Schwellen_Breite"
equation "d221 = ( Schwellen_Länge / 2 ) - ( Spurweite / 2 )"
equation "d222 = Schwellen_Breite"
equation "d223 = ( Schwellen_Länge / 2 ) - ( Spurweite / 2 )"
equation "d224 = Schwellen_Breite"
equation "d225 = ( Schwellen_Länge / 2 ) - ( Spurweite / 2 )"
equation "d226 = Schwellen_Breite"
equation "d227 = ( Schwellen_Länge / 2 ) - ( Spurweite / 2 )"
equation "d228 = Schwellen_Breite"
equation "d229 = ( Schwellen_Länge / 2 ) - ( Spurweite / 2 )"
equation "d230 = Schwellen_Breite"
equation "d231 = ( Schwellen_Länge / 2 ) - ( Spurweite / 2 )"
equation "d232 = Schwellen_Abstand_Anfang"
equation "d233 = Schwellen_Abstand_Mitte"
equation "d234 = Schwellen_Abstand_Mitte"
equation "d235 = Schwellen_Abstand_Mitte"
equation "d236 = Schwellen_Abstand_Mitte"
equation "d237 = Schwellen_Abstand_Mitte"
equation "d238 = Schwellen_Abstand_Mitte"
equation "d239 = Schwellen_Abstand_Mitte"
equation "d240 = Schwellen_Breite"
equation "d241 = ( Schwellen_Länge / 2 ) - ( Spurweite / 2 )"
equation "d242 = Schwellen_Breite"
equation "d243 = ( Schwellen_Länge / 2 ) - ( Spurweite / 2 )"
equation "d244 = Schwellen_Breite"
equation "d245 = ( Schwellen_Länge / 2 ) - ( Spurweite / 2 )"
equation "d246 = Schwellen_Breite"
equation "d247 = ( Schwellen_Länge / 2 ) - ( Spurweite / 2 )"
equation "d248 = Schwellen_Breite"
equation "d249 = ( Schwellen_Länge / 2 ) - ( Spurweite / 2 )"
equation "d250 = Schwellen_Breite"
equation "d251 = ( Schwellen_Länge / 2 ) - ( Spurweite / 2 )"
equation "d252 = Schwellen_Breite"
equation "d253 = ( Schwellen_Länge / 2 ) - ( Spurweite / 2 )"
equation "d254 = Schwellen_Abstand_Mitte"
equation "d255 = Schwellen_Abstand_Mitte"
equation "d256 = Schwellen_Abstand_Mitte"
equation "d257 = Schwellen_Abstand_Mitte"
equation "d258 = Schwellen_Abstand_Mitte"
equation "d259 = Schwellen_Abstand_Mitte"
equation "d260 = Schwellen_Abstand_Mitte"
equation "d261 = Schwellen_Abstand_Mitte"
equation "d262 = Schwellen_Abstand_Mitte"
equation "d263 = Schwellen_Abstand_Mitte"
equation "d264 = Schwellen_Abstand_Mitte"
equation "d265 = Schwellen_Abstand_Mitte"
equation "d266 = Schwellen_Abstand_Mitte"
equation "d267 = Schwellen_Abstand_Mitte"
equation "d268 = Schwellen_Abstand_Ende"
equation "d272 = ( Schwellen_Länge / 2 ) + ( Spurweite / 2 )"
equation "d273 = ( Trassenbrett_Breite / Schwellen_Breite / 2 ) * 1 mm"
equation "d274 = d273"
equation "d275 = d273"
equation "d276 = d273"
equation "Schwellen_Abstand_Anfang = 12.1 mm"
equation "Schwellen_Abstand_Mitte = 14.4 mm"
equation "Schwellen_Abstand_Ende = 12.2 mm"
equation "Trassenbrett_Breite = 68 mm"
equation "d503 = Trennstelle_Durchmesser"
equation "d504 = Trennstelle_Durchmesser"
equation "Trennstelle_Durchmesser = 2 mm"
equation "d506 = Trennstelle_Durchmesser"
equation "d507 = Trennstelle_Durchmesser"
